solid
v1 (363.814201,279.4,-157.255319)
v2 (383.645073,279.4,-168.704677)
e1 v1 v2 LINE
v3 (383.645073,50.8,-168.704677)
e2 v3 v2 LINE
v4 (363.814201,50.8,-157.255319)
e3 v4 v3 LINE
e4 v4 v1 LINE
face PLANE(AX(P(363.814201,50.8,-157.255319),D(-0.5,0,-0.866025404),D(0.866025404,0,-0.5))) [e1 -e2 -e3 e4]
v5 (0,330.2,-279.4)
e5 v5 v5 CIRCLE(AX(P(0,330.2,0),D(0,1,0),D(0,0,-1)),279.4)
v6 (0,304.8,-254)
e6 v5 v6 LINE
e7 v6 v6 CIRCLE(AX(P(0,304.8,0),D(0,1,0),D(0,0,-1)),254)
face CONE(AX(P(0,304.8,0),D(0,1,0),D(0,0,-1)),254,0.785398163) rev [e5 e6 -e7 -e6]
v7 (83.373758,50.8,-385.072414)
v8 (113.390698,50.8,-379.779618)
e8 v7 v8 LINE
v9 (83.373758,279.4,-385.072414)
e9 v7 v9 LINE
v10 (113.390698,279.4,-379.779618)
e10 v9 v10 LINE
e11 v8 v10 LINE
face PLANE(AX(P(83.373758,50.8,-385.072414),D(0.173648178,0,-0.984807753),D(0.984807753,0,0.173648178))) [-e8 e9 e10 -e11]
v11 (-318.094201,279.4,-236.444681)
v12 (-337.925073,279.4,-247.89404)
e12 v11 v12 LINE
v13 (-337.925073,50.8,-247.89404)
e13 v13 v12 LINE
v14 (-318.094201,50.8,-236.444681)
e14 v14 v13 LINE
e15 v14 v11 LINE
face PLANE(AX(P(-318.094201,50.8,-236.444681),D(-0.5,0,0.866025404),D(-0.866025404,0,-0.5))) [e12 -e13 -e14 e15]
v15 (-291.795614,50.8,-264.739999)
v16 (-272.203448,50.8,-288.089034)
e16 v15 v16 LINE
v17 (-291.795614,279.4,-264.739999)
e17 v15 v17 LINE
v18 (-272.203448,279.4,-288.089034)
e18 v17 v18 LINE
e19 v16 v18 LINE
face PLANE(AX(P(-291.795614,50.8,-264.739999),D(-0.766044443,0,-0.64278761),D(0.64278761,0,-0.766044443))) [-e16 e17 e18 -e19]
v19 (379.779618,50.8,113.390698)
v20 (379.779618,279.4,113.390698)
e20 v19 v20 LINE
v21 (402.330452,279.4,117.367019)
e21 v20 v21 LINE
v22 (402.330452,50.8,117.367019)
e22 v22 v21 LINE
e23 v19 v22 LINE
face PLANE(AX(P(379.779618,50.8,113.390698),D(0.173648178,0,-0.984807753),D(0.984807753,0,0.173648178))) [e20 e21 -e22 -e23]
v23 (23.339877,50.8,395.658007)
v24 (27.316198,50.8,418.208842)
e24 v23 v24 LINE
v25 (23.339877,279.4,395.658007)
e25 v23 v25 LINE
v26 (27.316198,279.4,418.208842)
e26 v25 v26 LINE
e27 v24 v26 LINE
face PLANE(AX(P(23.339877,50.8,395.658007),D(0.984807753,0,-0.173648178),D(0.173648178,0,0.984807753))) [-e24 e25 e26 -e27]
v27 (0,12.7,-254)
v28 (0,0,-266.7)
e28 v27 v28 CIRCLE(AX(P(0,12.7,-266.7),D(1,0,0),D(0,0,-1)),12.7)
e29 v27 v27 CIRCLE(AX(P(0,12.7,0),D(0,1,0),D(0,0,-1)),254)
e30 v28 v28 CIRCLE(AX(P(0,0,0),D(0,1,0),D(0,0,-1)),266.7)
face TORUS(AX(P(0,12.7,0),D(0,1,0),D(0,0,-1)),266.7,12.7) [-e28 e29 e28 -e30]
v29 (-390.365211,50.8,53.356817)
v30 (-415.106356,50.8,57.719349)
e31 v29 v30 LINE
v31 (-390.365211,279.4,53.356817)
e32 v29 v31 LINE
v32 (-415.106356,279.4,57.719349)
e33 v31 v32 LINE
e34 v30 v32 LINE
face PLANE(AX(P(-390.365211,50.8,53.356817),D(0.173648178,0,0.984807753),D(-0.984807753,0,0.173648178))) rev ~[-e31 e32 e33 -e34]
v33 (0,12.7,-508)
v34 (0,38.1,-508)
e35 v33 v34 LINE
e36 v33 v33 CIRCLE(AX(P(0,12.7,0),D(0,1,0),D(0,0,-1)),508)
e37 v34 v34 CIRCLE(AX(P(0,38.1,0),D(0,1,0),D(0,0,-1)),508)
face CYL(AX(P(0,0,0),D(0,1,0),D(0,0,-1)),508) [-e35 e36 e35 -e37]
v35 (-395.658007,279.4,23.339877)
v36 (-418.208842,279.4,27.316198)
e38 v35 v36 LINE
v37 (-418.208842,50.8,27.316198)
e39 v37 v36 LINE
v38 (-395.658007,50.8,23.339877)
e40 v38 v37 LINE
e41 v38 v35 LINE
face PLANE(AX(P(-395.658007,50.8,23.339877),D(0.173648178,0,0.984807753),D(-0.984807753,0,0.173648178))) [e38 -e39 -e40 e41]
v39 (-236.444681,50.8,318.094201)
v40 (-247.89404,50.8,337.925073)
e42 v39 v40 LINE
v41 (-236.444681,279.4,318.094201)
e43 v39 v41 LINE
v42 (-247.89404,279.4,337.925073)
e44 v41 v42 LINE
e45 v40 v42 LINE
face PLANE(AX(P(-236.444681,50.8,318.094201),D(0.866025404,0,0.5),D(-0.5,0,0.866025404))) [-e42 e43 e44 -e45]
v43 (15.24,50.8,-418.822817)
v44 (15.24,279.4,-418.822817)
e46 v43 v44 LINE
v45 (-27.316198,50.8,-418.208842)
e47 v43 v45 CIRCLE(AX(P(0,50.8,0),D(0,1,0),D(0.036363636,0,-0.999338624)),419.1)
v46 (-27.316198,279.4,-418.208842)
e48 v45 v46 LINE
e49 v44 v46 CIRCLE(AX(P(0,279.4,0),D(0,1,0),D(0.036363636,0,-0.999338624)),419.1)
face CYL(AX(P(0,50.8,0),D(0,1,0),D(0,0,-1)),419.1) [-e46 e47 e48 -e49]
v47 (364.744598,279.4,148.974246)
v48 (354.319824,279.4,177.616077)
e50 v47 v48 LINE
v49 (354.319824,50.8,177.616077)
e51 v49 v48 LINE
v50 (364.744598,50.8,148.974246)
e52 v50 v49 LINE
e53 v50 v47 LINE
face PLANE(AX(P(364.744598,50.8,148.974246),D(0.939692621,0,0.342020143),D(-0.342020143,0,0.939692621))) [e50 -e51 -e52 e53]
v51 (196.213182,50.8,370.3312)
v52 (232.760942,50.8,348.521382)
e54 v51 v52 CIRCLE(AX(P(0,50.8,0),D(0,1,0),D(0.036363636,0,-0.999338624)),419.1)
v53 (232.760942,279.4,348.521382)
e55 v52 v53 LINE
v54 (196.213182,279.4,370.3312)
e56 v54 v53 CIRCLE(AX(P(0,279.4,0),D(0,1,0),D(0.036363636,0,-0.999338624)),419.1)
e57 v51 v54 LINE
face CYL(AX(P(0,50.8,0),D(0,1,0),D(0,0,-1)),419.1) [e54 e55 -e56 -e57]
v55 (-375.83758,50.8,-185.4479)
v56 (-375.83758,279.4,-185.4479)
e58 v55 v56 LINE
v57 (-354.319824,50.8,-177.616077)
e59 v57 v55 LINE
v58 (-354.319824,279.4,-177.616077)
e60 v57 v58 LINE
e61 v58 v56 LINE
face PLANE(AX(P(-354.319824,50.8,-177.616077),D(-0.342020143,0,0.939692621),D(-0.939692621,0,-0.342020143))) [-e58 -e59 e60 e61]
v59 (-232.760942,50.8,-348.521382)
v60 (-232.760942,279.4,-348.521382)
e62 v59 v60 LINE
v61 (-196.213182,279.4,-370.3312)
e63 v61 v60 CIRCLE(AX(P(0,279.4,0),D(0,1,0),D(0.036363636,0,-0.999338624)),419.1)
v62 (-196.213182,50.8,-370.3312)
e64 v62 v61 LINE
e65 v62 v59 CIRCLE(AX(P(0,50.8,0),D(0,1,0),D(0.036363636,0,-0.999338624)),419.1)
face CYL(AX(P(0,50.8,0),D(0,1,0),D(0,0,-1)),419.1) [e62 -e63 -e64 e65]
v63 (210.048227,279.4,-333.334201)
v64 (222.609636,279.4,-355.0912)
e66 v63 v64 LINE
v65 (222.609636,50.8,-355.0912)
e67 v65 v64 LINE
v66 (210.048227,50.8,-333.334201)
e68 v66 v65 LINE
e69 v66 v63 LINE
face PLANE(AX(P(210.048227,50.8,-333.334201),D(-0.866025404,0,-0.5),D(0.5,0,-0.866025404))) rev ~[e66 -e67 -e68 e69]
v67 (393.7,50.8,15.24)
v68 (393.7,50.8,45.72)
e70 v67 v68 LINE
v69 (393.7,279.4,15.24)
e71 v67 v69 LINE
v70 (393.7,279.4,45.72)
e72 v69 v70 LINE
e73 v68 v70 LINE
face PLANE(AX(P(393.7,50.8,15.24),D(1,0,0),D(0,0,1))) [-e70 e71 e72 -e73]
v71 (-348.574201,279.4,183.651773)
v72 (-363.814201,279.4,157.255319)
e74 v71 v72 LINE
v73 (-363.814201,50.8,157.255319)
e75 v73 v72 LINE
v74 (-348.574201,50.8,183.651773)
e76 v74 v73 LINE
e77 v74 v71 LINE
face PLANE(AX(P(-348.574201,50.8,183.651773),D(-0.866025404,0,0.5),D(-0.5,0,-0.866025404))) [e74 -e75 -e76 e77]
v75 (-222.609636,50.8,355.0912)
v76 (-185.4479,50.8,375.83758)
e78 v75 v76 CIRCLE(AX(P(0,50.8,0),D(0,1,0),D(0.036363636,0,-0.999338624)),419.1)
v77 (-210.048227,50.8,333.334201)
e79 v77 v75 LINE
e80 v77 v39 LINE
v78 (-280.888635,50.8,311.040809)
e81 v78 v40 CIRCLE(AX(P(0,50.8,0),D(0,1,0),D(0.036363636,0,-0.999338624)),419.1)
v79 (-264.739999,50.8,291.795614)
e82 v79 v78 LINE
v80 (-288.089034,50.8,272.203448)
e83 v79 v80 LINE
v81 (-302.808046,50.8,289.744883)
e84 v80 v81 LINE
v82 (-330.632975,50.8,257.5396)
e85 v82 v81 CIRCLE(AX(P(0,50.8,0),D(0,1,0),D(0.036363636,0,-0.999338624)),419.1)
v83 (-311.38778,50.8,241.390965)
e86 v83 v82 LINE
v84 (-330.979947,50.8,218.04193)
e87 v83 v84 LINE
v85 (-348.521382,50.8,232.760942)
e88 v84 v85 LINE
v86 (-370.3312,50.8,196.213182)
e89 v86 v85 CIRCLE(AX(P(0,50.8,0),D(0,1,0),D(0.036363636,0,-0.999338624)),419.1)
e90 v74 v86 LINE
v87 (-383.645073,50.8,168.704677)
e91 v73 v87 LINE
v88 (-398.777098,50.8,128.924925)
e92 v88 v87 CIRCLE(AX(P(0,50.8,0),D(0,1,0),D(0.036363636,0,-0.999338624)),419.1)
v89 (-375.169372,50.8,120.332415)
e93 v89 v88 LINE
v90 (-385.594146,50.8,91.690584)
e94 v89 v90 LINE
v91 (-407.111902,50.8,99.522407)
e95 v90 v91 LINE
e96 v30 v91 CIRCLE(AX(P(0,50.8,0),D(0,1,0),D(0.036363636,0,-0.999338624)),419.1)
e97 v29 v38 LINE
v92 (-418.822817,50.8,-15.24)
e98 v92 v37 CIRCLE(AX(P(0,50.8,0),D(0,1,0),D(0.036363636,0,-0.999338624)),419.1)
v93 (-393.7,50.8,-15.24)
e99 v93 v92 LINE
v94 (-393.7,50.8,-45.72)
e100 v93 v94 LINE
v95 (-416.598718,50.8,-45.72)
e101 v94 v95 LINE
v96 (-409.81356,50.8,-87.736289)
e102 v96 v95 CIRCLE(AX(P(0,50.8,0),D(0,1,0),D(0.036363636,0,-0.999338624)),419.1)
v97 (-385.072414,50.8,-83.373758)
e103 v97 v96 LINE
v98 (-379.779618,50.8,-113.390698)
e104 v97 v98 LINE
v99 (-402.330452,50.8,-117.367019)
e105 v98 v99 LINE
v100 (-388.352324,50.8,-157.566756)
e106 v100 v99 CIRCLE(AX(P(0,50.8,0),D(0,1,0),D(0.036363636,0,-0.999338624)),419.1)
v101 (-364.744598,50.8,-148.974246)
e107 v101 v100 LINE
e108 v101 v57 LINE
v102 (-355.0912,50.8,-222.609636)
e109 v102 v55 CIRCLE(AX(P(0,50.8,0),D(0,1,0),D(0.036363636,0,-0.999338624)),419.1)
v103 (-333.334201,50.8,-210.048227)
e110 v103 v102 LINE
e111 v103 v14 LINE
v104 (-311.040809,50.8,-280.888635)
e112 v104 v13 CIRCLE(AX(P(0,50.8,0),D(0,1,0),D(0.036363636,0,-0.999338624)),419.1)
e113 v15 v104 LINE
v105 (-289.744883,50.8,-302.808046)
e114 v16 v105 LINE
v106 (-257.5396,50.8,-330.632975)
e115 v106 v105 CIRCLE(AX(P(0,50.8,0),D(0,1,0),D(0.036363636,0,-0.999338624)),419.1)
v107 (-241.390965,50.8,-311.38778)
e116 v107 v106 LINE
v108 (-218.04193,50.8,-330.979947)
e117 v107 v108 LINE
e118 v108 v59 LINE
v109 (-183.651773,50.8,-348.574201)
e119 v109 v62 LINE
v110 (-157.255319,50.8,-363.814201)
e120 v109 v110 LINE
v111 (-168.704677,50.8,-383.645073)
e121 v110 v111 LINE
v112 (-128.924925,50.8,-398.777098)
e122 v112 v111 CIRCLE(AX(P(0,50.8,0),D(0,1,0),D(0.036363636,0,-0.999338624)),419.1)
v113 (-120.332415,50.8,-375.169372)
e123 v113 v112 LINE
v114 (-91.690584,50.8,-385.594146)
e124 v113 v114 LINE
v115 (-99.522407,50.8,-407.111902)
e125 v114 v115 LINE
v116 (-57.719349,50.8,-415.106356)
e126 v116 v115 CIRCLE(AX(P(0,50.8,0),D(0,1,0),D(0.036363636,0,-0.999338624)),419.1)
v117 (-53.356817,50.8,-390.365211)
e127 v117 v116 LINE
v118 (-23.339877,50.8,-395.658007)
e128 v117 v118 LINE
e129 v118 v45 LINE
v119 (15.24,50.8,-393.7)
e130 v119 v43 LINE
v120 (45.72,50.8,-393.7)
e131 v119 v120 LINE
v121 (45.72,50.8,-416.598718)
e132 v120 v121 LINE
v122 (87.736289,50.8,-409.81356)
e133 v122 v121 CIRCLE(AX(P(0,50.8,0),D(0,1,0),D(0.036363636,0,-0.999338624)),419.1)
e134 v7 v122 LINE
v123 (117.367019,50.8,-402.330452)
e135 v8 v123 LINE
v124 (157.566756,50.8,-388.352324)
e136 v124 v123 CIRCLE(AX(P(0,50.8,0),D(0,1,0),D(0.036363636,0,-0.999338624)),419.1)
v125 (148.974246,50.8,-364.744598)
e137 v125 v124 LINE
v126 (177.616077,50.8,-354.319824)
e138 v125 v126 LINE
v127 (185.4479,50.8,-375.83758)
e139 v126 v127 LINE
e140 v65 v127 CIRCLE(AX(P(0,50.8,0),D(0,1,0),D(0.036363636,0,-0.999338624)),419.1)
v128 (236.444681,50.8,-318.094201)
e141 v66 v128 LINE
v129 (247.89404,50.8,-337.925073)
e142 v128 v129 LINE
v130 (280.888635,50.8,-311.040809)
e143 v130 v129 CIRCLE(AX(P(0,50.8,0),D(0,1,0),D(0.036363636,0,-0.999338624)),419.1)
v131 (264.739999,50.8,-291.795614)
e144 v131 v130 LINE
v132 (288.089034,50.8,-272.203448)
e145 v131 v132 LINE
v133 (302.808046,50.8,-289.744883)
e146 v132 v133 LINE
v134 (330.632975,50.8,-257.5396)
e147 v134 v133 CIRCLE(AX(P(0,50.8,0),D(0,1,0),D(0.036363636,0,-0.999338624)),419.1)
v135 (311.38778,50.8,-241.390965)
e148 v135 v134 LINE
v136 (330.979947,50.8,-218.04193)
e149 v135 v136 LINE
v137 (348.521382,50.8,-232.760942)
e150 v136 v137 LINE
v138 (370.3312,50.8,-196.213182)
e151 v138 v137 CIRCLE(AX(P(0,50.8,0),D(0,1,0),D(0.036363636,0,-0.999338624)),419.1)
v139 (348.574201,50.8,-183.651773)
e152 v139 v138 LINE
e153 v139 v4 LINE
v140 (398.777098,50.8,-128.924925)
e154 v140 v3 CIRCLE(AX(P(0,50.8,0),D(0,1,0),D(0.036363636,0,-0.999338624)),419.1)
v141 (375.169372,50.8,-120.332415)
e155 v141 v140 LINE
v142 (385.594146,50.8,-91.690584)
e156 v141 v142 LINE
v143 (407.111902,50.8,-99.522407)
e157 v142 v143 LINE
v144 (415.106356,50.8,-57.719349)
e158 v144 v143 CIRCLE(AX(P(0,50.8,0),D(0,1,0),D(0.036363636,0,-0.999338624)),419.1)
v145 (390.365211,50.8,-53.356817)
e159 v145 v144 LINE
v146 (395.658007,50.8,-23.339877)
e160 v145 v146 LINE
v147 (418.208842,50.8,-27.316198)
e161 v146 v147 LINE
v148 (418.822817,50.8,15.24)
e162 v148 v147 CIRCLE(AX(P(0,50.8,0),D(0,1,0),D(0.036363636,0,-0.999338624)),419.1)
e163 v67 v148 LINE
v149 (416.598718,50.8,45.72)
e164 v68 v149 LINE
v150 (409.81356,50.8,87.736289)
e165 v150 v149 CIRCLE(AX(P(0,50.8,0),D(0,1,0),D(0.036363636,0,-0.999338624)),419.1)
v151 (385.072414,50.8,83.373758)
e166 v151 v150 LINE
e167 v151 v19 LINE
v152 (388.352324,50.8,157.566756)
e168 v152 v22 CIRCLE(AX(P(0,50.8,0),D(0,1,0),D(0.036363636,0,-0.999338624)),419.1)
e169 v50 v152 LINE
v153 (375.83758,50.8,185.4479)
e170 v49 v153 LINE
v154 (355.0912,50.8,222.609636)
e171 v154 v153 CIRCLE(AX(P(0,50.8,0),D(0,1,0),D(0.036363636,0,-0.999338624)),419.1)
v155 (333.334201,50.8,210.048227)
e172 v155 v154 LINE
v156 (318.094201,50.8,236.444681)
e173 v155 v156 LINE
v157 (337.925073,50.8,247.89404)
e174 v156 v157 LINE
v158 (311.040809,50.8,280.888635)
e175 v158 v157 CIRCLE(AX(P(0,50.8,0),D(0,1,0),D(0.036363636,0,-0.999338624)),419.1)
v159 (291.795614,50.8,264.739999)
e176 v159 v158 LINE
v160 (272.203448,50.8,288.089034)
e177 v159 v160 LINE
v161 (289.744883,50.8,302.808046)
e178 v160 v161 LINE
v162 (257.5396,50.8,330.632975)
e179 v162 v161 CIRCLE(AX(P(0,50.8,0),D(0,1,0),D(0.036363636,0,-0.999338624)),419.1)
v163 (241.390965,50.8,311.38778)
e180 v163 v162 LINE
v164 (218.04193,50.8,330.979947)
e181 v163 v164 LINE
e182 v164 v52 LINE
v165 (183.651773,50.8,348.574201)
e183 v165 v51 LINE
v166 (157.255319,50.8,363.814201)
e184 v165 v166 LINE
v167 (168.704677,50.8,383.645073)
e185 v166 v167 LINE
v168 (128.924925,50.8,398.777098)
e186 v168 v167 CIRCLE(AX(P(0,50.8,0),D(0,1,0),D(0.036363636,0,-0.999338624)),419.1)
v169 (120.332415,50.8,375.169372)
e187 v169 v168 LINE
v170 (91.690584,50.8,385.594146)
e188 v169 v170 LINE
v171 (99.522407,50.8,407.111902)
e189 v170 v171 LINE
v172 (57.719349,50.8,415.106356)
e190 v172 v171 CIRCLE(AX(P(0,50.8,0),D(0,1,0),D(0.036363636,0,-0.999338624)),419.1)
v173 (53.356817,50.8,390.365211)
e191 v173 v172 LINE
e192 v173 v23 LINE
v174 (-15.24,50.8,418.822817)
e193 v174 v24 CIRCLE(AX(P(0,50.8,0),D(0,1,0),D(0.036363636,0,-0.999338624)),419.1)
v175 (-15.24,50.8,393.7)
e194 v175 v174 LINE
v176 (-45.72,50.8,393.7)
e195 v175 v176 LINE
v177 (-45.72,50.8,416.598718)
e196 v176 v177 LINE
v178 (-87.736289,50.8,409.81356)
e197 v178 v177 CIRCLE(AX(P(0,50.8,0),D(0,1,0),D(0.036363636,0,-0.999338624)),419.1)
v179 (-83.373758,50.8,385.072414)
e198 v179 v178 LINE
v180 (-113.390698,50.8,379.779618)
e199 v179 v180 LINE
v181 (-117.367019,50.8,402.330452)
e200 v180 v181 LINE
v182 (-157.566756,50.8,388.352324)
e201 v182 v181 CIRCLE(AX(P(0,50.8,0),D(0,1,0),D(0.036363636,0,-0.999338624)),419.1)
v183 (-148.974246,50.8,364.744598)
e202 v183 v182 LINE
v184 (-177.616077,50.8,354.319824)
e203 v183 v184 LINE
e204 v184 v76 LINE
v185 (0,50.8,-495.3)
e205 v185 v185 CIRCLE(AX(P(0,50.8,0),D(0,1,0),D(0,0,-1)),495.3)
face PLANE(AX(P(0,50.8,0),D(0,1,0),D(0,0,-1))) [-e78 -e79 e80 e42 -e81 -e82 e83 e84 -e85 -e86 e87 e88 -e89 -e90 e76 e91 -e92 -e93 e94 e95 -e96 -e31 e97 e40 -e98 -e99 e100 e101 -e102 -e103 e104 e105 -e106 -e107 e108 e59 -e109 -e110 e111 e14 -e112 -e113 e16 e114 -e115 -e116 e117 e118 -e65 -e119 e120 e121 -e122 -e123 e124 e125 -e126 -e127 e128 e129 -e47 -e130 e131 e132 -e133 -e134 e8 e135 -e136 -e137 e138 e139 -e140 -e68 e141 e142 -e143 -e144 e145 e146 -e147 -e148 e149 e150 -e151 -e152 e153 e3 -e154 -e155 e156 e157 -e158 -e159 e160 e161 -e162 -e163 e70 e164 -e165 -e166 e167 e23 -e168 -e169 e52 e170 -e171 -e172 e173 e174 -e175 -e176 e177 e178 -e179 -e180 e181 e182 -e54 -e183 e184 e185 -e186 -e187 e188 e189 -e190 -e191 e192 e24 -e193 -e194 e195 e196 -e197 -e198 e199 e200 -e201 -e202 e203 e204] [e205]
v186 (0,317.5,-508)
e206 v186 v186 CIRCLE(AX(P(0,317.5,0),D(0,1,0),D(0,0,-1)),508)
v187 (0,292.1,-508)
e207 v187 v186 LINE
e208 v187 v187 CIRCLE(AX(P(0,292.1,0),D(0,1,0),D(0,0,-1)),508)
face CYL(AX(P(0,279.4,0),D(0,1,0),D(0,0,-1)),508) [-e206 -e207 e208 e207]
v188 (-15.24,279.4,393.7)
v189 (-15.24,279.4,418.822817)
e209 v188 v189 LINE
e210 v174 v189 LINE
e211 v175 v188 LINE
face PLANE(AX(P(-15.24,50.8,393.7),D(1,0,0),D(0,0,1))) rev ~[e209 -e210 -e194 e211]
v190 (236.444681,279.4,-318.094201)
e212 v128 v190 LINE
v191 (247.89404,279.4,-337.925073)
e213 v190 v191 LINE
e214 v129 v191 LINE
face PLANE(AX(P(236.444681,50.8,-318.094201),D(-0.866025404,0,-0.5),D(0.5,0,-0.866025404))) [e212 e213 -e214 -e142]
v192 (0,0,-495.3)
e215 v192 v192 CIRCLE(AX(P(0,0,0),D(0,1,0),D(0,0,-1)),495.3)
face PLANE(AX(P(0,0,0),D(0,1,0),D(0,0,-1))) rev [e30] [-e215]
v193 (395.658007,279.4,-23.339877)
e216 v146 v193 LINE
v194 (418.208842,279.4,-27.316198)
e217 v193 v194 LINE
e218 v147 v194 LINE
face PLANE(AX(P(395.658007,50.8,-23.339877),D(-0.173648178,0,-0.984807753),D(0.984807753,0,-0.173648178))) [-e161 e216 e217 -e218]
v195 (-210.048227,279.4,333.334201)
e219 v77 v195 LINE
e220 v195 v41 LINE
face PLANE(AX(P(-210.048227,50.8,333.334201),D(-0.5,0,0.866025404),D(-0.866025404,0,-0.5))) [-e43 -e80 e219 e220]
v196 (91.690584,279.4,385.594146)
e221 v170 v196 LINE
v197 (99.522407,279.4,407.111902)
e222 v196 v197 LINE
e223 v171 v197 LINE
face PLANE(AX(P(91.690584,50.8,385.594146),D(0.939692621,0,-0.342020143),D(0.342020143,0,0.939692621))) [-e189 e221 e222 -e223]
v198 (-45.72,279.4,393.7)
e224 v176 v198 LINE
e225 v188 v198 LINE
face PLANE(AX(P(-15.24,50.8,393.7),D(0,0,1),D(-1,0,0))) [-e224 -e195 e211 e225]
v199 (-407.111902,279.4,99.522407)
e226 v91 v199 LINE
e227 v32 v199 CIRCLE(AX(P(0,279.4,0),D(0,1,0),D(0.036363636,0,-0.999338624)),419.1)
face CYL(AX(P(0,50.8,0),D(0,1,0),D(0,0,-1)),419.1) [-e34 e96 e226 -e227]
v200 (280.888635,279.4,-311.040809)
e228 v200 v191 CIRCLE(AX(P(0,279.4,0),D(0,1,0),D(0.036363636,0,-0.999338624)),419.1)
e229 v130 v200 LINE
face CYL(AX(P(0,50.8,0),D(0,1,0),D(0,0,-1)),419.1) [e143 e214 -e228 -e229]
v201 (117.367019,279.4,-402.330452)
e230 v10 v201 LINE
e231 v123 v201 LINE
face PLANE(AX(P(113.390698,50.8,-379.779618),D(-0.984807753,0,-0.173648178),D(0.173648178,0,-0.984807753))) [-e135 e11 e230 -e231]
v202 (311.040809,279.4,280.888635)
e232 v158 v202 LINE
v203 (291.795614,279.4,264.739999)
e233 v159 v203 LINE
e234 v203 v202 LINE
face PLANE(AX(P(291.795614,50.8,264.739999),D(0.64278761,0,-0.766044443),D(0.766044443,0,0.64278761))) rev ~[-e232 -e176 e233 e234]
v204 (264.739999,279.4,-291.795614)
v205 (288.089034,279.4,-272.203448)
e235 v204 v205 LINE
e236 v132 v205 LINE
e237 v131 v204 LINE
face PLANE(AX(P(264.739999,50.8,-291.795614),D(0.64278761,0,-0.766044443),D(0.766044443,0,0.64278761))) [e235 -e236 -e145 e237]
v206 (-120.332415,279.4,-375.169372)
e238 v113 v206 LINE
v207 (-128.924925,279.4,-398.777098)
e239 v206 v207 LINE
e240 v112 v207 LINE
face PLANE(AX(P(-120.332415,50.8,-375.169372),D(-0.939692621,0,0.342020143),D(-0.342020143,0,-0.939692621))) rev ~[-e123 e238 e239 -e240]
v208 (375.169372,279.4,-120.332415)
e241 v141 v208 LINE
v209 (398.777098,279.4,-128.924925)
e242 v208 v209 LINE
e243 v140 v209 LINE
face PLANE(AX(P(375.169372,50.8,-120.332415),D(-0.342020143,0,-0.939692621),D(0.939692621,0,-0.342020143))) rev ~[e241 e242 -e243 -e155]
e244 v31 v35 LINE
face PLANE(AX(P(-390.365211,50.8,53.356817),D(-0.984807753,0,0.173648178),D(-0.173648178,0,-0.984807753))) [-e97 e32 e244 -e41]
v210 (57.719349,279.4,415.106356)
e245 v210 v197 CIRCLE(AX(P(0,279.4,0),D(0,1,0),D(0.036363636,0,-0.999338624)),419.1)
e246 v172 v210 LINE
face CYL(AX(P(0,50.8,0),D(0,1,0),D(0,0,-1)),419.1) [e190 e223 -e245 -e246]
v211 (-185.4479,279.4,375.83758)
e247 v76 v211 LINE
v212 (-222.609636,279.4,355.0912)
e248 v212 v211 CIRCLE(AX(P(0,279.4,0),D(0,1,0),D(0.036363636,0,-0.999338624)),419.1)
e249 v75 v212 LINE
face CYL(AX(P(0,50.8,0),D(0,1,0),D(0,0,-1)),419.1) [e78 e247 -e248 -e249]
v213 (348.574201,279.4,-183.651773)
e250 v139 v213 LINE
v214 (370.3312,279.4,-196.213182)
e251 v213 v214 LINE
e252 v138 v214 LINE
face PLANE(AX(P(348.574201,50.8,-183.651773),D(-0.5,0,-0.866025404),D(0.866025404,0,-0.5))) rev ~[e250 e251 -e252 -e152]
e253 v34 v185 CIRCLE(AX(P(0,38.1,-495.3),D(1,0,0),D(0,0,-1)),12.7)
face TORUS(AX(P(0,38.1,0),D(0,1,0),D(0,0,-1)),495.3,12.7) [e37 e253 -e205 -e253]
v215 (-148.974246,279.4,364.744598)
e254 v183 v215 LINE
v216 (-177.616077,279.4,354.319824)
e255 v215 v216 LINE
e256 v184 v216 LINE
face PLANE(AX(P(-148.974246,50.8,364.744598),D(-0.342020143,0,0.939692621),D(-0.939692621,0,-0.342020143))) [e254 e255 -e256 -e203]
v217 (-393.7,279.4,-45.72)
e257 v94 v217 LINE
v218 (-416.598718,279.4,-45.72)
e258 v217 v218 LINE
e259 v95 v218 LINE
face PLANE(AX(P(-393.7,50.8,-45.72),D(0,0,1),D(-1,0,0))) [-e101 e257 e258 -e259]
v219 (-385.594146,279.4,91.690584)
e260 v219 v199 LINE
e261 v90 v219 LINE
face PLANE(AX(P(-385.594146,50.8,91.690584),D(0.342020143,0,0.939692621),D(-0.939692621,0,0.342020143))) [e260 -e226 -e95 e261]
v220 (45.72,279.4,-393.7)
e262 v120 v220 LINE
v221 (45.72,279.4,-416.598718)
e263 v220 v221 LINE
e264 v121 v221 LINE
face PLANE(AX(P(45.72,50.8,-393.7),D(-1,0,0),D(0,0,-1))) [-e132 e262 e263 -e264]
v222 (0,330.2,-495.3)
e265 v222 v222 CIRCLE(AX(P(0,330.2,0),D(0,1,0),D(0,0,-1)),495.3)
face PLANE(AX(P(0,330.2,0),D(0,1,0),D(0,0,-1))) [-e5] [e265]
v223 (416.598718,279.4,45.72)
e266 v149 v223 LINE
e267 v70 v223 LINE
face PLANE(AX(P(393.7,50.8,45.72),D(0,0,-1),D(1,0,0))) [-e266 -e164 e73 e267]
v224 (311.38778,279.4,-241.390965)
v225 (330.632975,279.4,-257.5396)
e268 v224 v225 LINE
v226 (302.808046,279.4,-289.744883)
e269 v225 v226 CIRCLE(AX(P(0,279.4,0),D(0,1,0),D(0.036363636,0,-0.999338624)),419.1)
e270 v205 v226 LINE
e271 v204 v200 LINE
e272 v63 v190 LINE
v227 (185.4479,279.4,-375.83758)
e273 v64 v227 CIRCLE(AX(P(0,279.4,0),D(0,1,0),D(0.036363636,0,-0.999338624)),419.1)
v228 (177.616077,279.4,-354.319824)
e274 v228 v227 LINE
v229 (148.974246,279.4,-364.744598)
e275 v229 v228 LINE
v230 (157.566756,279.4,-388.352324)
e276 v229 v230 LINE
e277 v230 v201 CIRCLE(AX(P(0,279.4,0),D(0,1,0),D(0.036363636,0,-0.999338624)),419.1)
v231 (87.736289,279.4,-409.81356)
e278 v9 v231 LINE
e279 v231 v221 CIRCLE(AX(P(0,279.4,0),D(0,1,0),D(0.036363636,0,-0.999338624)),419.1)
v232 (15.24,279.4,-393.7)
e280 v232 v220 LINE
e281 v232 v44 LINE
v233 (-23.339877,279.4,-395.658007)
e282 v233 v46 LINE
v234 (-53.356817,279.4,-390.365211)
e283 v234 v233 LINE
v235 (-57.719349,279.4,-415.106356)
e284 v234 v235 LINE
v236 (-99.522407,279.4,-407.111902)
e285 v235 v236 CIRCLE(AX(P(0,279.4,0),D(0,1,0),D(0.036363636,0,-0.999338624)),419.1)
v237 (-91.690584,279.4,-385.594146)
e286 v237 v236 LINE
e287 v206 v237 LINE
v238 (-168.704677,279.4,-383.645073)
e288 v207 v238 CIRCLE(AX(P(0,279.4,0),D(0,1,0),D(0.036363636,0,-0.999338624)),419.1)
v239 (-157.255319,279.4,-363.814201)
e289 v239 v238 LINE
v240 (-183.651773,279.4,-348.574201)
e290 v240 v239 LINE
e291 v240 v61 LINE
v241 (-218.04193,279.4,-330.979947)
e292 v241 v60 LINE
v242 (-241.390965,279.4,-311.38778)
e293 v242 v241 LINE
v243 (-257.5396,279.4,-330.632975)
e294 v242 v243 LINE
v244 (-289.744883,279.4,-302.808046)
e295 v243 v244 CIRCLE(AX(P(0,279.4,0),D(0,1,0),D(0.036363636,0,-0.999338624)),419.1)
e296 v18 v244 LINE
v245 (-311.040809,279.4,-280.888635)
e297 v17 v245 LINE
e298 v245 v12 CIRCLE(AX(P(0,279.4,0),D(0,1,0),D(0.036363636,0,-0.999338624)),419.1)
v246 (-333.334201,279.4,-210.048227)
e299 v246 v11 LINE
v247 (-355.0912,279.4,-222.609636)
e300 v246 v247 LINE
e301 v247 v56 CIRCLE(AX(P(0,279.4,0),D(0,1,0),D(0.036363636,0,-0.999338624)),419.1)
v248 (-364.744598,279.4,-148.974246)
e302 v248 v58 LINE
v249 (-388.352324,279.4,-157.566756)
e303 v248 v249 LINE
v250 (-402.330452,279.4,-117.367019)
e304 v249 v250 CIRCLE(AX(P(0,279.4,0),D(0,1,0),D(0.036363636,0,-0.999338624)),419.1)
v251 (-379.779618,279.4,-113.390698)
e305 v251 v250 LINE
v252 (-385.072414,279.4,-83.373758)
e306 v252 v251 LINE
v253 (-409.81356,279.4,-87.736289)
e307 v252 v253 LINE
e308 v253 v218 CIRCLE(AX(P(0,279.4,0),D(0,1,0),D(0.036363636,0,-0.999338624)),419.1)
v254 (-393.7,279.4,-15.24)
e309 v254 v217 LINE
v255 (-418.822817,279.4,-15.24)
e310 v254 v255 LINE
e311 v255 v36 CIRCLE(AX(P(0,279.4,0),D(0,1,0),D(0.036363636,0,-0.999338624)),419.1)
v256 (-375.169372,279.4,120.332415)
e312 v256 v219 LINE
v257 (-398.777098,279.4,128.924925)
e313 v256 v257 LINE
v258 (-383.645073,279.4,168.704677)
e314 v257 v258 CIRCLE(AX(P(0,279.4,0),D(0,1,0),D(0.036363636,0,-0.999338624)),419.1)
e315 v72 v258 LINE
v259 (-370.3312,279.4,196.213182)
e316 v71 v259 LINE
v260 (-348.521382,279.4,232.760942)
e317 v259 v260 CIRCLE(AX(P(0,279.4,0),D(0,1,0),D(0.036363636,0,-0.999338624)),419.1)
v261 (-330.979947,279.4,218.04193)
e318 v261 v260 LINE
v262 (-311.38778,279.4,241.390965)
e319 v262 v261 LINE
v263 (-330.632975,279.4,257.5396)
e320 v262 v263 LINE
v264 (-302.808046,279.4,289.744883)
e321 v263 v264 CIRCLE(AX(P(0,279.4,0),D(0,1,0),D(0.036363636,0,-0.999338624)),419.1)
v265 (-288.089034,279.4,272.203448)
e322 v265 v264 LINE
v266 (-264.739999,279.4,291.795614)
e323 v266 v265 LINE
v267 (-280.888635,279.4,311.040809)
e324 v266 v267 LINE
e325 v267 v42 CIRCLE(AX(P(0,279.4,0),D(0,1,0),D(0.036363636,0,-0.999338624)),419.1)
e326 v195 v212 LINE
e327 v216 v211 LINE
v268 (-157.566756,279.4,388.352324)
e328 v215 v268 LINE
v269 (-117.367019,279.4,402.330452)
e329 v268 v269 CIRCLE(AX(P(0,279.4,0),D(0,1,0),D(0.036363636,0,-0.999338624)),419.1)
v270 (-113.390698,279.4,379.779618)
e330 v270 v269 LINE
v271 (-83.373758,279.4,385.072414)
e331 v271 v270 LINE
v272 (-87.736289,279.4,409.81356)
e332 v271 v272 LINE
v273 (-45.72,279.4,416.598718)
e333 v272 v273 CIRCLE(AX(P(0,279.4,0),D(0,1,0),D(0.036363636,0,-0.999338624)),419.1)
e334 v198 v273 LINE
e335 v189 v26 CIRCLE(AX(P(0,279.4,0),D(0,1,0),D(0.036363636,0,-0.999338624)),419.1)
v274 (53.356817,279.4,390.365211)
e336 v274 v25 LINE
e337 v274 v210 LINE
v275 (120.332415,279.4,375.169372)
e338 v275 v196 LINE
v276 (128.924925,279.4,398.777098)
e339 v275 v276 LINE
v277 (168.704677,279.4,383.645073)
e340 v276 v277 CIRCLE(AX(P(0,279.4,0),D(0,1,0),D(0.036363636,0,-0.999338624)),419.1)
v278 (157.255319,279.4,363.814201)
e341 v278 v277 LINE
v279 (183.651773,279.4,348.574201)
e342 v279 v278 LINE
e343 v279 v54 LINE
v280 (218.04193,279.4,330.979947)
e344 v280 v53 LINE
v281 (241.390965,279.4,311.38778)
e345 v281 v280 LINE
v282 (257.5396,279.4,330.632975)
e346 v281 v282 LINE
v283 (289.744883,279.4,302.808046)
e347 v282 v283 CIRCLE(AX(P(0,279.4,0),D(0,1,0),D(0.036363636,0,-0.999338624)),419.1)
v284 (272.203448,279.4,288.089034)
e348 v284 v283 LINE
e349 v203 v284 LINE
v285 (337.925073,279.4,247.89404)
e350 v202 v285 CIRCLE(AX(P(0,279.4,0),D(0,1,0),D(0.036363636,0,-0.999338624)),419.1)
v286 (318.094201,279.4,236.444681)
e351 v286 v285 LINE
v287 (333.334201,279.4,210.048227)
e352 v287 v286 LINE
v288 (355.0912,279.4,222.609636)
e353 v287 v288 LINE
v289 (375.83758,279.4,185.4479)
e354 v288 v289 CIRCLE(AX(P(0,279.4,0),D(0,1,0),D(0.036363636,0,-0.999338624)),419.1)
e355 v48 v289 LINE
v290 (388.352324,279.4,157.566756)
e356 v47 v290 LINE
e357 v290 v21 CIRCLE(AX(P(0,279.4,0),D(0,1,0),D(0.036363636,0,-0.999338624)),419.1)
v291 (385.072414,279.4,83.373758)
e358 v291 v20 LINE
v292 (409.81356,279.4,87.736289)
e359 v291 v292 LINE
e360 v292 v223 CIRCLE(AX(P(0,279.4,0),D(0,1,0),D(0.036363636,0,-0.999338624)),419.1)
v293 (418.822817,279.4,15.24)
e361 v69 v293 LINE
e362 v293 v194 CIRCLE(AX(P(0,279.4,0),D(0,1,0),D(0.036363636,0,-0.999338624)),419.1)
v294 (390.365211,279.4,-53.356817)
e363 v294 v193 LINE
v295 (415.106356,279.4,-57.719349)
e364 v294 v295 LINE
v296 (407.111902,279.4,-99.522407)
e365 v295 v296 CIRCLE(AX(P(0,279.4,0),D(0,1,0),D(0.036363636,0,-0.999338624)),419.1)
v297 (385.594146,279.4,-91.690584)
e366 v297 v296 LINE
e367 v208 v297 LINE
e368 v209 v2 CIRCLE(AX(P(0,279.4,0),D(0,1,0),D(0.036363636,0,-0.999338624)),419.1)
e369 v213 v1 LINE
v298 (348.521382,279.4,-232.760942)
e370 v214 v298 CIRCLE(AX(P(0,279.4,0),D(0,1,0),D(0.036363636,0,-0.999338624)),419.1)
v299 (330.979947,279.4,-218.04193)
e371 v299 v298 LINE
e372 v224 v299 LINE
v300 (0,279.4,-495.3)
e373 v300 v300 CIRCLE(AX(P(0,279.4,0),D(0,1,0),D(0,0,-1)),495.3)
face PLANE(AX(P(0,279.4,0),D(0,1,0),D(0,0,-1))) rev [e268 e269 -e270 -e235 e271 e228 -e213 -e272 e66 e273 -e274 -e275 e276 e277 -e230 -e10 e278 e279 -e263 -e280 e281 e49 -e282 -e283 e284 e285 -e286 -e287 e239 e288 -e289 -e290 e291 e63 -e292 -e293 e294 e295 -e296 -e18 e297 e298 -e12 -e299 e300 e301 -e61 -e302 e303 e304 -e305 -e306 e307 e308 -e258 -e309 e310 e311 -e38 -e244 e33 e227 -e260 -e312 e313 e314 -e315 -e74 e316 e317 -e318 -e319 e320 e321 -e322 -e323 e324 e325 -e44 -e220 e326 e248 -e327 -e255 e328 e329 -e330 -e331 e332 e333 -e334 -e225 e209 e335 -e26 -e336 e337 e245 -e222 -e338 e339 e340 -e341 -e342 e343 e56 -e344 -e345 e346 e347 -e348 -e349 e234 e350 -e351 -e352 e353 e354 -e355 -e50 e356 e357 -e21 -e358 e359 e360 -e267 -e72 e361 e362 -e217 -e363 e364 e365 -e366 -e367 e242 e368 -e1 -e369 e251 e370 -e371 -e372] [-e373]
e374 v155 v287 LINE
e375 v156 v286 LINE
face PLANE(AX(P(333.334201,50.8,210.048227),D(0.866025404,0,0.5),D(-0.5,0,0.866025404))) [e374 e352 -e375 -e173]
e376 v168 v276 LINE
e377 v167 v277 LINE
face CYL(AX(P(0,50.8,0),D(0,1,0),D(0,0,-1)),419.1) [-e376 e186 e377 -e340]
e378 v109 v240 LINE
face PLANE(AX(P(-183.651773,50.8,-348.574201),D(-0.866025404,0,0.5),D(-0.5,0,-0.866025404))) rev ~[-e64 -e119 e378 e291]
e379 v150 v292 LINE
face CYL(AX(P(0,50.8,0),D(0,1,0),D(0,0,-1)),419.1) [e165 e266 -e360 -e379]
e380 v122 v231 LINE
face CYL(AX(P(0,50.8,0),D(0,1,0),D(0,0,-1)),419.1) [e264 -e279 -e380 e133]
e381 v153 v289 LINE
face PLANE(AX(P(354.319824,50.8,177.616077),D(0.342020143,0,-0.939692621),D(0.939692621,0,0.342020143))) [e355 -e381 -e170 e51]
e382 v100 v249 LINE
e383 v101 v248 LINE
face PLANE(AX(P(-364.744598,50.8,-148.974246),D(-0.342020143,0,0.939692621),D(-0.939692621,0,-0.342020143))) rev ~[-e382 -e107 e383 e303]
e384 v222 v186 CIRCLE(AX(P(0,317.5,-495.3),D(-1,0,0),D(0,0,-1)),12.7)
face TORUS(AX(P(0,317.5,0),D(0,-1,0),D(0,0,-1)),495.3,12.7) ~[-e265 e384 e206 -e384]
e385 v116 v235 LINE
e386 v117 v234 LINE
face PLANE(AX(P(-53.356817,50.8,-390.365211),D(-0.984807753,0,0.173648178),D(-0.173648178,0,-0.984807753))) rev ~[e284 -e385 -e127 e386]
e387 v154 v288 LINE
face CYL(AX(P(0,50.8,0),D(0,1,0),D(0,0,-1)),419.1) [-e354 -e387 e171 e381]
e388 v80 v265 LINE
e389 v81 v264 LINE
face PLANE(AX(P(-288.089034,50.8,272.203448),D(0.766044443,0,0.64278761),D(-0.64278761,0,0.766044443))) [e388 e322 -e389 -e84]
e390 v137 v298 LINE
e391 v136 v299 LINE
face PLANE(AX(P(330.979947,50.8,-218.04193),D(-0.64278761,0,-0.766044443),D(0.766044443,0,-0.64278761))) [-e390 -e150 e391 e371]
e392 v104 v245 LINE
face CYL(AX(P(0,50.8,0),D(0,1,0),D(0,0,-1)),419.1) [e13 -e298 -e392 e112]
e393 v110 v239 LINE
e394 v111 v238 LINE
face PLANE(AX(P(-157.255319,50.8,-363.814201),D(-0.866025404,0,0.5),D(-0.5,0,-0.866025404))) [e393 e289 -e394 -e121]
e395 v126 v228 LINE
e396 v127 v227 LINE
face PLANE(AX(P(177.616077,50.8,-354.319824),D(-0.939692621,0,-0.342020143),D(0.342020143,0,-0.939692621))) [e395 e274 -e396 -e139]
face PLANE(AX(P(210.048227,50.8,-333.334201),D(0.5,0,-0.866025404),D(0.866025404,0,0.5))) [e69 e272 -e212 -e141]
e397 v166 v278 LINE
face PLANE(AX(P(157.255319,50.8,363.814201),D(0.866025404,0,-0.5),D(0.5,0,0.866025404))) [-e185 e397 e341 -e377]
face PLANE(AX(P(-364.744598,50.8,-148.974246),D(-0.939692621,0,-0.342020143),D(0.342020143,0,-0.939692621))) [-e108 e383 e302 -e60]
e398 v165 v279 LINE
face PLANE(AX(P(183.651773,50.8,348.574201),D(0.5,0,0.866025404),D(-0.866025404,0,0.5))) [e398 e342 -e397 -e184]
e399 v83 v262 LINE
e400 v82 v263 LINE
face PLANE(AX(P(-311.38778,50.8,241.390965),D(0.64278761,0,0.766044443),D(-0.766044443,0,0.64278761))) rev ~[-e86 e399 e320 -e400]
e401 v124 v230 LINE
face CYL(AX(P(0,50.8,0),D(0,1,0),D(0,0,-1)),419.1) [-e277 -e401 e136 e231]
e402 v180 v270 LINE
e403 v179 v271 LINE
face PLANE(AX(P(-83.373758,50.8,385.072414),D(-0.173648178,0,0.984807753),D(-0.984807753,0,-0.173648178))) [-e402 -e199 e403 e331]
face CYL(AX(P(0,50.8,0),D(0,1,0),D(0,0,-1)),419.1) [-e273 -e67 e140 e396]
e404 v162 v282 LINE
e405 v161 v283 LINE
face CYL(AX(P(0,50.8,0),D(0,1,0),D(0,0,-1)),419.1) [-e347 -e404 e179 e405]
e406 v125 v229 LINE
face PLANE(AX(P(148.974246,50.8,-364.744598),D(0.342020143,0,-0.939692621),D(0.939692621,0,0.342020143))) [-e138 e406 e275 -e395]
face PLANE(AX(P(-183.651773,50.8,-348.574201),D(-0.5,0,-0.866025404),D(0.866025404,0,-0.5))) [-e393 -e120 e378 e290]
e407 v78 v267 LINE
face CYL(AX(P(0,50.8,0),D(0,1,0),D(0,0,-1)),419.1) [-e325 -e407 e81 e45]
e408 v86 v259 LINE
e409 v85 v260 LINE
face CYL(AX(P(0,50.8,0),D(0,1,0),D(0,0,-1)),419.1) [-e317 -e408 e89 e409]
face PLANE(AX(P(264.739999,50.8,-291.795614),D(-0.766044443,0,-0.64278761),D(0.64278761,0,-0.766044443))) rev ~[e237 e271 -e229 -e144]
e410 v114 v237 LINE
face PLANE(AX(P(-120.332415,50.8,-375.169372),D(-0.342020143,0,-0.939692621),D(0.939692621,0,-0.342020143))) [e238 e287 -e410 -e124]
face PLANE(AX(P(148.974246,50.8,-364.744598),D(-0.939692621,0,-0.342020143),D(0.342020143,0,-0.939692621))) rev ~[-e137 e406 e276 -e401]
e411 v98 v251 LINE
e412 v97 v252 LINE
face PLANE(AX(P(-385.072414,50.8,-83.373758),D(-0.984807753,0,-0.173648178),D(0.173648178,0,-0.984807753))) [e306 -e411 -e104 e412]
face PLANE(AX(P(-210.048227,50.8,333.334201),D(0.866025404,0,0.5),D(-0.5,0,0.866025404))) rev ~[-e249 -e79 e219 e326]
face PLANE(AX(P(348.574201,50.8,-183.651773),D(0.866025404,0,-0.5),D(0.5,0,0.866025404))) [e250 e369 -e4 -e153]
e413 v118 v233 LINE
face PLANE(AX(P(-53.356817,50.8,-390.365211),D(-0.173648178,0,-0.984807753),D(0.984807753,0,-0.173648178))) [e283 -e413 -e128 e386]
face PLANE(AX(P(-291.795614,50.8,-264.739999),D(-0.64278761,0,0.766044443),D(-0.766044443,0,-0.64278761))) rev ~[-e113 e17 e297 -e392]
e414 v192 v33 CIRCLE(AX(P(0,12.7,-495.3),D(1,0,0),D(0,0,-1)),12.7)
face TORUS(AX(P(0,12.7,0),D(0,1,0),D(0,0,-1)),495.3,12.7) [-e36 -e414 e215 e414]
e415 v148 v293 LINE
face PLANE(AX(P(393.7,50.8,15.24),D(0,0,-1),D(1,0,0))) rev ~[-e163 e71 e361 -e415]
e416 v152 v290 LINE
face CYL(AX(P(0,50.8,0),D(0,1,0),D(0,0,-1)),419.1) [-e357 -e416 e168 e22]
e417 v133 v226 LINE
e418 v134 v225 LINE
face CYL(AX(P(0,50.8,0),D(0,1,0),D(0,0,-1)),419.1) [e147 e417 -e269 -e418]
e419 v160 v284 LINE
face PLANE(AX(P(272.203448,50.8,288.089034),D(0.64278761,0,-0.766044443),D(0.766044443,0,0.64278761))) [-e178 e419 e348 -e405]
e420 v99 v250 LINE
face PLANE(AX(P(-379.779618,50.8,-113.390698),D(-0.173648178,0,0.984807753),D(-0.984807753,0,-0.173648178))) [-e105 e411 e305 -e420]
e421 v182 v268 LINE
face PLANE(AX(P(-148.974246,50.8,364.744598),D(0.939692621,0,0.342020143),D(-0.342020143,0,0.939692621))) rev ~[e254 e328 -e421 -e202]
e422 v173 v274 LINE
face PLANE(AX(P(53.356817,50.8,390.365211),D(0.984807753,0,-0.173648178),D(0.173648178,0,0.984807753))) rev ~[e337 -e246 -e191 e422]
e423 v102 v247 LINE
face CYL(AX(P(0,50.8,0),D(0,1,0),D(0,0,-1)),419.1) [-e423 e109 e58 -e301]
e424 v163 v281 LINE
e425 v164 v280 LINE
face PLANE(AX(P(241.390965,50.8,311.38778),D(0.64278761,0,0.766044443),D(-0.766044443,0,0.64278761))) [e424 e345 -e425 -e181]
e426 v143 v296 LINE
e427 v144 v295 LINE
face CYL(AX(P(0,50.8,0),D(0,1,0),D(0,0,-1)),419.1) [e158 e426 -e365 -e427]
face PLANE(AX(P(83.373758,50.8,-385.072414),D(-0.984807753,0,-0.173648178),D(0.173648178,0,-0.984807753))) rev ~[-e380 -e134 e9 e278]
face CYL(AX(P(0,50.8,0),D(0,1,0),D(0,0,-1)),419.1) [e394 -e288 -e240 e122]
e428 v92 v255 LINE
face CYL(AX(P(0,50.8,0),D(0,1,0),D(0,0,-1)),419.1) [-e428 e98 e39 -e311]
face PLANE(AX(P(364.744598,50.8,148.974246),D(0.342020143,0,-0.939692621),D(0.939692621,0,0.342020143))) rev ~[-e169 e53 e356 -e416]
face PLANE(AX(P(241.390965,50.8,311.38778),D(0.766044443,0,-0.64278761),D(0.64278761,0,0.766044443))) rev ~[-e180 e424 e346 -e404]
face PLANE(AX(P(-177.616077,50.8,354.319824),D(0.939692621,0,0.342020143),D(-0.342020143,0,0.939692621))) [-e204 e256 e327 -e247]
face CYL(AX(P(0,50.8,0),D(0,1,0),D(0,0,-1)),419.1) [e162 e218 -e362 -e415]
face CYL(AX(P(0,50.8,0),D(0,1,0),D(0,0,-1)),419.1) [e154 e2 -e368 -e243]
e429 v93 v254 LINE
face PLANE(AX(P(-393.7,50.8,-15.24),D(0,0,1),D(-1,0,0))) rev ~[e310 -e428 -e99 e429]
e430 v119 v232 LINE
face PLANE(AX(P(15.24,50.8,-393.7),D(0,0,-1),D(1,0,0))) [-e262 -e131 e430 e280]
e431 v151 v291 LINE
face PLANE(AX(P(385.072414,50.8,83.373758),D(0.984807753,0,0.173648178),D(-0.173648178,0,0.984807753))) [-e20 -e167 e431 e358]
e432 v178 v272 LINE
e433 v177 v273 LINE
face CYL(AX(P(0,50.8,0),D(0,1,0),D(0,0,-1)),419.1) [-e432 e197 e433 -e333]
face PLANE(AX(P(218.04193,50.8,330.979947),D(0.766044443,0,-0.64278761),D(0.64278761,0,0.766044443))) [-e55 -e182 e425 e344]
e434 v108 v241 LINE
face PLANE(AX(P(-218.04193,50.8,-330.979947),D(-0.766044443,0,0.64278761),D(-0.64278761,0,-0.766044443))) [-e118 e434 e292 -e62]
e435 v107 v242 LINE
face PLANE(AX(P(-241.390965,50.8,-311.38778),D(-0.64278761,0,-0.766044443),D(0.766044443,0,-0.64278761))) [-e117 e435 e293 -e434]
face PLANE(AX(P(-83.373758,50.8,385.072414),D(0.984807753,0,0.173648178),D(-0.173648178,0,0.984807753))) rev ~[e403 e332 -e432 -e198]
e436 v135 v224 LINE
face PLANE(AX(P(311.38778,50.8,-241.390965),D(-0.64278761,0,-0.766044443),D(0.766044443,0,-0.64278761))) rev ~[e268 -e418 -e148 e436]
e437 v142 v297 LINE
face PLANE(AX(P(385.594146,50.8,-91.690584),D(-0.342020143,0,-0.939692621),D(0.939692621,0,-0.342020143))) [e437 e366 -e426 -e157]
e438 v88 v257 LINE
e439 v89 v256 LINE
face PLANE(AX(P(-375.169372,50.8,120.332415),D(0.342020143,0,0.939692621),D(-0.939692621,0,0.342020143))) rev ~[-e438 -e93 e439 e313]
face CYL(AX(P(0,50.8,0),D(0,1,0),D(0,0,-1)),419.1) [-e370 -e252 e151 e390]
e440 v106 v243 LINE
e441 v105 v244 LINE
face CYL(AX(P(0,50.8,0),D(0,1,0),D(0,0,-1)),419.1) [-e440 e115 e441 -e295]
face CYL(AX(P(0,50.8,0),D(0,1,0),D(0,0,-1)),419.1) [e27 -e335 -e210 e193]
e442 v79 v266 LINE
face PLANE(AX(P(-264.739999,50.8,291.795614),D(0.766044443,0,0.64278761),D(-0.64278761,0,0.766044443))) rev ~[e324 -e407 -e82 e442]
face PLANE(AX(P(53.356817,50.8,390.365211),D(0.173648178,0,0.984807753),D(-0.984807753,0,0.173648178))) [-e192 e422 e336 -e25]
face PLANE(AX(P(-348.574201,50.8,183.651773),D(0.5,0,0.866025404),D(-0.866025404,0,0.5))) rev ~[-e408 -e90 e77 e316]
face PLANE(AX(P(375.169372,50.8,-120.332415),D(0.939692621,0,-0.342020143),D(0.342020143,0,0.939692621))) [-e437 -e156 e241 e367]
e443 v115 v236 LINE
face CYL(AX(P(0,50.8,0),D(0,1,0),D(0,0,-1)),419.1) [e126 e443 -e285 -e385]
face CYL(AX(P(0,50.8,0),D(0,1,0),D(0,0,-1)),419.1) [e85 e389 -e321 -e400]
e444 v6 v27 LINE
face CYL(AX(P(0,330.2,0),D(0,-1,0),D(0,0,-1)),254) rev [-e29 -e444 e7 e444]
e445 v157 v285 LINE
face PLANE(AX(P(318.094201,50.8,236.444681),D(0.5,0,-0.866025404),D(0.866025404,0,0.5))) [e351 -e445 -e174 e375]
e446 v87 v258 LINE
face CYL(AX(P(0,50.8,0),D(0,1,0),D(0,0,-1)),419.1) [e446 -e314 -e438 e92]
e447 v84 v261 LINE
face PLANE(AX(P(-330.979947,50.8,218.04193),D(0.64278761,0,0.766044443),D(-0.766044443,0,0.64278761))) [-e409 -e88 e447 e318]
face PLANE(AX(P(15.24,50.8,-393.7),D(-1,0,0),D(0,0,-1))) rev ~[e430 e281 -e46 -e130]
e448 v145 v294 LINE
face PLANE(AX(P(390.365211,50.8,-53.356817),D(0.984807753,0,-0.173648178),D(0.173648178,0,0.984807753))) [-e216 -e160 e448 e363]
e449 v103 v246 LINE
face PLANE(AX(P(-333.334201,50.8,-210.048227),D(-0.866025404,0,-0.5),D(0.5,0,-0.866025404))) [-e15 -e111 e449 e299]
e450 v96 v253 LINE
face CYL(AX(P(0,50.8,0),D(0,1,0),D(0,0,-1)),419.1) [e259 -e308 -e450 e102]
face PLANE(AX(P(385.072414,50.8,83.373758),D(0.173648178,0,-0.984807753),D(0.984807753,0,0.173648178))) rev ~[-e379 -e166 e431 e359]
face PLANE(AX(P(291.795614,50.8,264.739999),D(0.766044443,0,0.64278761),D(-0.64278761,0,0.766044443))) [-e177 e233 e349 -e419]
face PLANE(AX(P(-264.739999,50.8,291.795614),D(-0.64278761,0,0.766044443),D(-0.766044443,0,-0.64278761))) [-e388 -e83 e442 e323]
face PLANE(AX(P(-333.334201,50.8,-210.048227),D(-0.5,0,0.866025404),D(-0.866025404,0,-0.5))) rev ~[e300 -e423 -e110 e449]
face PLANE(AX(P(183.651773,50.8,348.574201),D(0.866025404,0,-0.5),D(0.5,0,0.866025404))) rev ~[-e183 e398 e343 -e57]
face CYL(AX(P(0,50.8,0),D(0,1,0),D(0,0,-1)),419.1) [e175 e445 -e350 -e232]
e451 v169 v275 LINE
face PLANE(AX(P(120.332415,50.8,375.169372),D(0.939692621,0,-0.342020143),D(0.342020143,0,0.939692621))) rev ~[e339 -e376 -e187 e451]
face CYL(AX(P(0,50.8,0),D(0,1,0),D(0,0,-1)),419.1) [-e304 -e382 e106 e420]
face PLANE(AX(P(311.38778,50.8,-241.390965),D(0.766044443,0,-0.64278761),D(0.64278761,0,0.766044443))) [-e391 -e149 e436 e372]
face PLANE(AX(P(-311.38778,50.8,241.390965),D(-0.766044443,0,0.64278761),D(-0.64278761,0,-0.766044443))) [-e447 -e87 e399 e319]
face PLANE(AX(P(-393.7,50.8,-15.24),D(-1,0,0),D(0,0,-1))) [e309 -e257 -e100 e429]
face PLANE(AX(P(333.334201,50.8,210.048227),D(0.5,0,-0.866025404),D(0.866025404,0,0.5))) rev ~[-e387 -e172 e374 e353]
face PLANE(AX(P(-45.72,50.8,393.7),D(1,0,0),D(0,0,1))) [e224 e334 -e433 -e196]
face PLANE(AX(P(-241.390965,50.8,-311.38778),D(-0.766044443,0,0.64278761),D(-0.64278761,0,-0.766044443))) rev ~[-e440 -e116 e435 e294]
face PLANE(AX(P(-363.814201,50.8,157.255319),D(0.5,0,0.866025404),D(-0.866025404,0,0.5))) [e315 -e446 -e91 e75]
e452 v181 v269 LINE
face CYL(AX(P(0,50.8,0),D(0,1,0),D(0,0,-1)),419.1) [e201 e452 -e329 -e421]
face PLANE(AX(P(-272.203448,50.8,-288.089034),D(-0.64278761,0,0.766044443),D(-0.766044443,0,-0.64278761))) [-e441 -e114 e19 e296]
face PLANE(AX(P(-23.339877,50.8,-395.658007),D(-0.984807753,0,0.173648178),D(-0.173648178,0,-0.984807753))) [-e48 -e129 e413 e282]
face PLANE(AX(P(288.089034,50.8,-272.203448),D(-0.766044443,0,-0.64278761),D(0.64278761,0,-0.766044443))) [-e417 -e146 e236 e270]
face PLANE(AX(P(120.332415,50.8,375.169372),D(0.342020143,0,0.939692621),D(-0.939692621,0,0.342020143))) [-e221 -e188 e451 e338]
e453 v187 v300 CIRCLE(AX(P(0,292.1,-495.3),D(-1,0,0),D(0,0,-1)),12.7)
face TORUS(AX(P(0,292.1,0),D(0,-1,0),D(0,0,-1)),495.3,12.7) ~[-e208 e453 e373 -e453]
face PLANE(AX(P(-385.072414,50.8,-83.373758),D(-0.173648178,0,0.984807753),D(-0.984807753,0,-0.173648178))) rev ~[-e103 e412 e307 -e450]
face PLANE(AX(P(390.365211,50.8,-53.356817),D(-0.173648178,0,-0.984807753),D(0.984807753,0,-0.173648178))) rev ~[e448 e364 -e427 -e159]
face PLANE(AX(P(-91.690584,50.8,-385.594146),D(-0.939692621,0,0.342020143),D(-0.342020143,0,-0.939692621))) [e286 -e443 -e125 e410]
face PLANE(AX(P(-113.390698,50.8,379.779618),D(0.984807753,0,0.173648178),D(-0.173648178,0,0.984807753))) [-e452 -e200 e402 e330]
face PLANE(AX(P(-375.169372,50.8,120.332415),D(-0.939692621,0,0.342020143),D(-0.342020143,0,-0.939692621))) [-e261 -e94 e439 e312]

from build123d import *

# Parameters (mm, degrees)
CHAMFER1_SIZE      = 25.4
FILLET1_R          = 12.7
SKETCH3_W          = 30.48
SKETCH3_H          = 30.48
CUT_EXTRUDE1_DEPTH = 228.6
CIRPATTERN1_COUNT  = 36
FILLET2_R          = 12.7


with BuildPart() as part:
    # Sketch1 → Revolve1 (revolve)
    with BuildSketch(Plane.XY, mode=Mode.PRIVATE) as revolve1_sk:
        Polygon((254, 0), (508, 0), (508, 50.8), (419.1, 50.8), (419.1, 279.4), (508, 279.4), (508, 330.2), (254, 330.2), align=None)
    revolve(revolve1_sk.sketch.rotate(Axis((0, 0, 0), (0, 1, 0)), 90), axis=Axis((0, 0, 0), (0, 1, 0)))

    # Chamfer1
    chamfer1_edges = [part.edges().sort_by_distance(p)[0] for p in [
        (0, 330.2, 254),
    ]]
    chamfer(chamfer1_edges, length=CHAMFER1_SIZE)

    # Fillet1
    fillet1_edges = [part.edges().sort_by_distance(p)[0] for p in [
        (0, 330.2, 508),
        (0, 279.4, 508),
        (0, 50.8, 508),
        (0, 0, 508),
    ]]
    fillet(fillet1_edges, radius=FILLET1_R)

    # Sketch3 → Cut-Extrude1 (cut)
    with BuildSketch(Plane(origin=(0, 50.8, 0), x_dir=(1, 0, 0), z_dir=(0, 1, 0))):
        with Locations((30.48, 408.94)):
            Rectangle(SKETCH3_W, SKETCH3_H)
    cut_extrude1 = extrude(amount=CUT_EXTRUDE1_DEPTH, mode=Mode.SUBTRACT)

    # CirPattern1: Cut-Extrude1 ×36 about axis
    cirpattern1_axis = Axis((0, 0, 0), (0, 1, 0))
    for i in range(1, CIRPATTERN1_COUNT):
        add(cut_extrude1.rotate(cirpattern1_axis, i * 360 / CIRPATTERN1_COUNT), mode=Mode.SUBTRACT)

    # Fillet2
    fillet2_edges = [part.edges().sort_by_distance(p)[0] for p in [
        (0, 0, 254),
    ]]
    fillet(fillet2_edges, radius=FILLET2_R)


solid = part.part
